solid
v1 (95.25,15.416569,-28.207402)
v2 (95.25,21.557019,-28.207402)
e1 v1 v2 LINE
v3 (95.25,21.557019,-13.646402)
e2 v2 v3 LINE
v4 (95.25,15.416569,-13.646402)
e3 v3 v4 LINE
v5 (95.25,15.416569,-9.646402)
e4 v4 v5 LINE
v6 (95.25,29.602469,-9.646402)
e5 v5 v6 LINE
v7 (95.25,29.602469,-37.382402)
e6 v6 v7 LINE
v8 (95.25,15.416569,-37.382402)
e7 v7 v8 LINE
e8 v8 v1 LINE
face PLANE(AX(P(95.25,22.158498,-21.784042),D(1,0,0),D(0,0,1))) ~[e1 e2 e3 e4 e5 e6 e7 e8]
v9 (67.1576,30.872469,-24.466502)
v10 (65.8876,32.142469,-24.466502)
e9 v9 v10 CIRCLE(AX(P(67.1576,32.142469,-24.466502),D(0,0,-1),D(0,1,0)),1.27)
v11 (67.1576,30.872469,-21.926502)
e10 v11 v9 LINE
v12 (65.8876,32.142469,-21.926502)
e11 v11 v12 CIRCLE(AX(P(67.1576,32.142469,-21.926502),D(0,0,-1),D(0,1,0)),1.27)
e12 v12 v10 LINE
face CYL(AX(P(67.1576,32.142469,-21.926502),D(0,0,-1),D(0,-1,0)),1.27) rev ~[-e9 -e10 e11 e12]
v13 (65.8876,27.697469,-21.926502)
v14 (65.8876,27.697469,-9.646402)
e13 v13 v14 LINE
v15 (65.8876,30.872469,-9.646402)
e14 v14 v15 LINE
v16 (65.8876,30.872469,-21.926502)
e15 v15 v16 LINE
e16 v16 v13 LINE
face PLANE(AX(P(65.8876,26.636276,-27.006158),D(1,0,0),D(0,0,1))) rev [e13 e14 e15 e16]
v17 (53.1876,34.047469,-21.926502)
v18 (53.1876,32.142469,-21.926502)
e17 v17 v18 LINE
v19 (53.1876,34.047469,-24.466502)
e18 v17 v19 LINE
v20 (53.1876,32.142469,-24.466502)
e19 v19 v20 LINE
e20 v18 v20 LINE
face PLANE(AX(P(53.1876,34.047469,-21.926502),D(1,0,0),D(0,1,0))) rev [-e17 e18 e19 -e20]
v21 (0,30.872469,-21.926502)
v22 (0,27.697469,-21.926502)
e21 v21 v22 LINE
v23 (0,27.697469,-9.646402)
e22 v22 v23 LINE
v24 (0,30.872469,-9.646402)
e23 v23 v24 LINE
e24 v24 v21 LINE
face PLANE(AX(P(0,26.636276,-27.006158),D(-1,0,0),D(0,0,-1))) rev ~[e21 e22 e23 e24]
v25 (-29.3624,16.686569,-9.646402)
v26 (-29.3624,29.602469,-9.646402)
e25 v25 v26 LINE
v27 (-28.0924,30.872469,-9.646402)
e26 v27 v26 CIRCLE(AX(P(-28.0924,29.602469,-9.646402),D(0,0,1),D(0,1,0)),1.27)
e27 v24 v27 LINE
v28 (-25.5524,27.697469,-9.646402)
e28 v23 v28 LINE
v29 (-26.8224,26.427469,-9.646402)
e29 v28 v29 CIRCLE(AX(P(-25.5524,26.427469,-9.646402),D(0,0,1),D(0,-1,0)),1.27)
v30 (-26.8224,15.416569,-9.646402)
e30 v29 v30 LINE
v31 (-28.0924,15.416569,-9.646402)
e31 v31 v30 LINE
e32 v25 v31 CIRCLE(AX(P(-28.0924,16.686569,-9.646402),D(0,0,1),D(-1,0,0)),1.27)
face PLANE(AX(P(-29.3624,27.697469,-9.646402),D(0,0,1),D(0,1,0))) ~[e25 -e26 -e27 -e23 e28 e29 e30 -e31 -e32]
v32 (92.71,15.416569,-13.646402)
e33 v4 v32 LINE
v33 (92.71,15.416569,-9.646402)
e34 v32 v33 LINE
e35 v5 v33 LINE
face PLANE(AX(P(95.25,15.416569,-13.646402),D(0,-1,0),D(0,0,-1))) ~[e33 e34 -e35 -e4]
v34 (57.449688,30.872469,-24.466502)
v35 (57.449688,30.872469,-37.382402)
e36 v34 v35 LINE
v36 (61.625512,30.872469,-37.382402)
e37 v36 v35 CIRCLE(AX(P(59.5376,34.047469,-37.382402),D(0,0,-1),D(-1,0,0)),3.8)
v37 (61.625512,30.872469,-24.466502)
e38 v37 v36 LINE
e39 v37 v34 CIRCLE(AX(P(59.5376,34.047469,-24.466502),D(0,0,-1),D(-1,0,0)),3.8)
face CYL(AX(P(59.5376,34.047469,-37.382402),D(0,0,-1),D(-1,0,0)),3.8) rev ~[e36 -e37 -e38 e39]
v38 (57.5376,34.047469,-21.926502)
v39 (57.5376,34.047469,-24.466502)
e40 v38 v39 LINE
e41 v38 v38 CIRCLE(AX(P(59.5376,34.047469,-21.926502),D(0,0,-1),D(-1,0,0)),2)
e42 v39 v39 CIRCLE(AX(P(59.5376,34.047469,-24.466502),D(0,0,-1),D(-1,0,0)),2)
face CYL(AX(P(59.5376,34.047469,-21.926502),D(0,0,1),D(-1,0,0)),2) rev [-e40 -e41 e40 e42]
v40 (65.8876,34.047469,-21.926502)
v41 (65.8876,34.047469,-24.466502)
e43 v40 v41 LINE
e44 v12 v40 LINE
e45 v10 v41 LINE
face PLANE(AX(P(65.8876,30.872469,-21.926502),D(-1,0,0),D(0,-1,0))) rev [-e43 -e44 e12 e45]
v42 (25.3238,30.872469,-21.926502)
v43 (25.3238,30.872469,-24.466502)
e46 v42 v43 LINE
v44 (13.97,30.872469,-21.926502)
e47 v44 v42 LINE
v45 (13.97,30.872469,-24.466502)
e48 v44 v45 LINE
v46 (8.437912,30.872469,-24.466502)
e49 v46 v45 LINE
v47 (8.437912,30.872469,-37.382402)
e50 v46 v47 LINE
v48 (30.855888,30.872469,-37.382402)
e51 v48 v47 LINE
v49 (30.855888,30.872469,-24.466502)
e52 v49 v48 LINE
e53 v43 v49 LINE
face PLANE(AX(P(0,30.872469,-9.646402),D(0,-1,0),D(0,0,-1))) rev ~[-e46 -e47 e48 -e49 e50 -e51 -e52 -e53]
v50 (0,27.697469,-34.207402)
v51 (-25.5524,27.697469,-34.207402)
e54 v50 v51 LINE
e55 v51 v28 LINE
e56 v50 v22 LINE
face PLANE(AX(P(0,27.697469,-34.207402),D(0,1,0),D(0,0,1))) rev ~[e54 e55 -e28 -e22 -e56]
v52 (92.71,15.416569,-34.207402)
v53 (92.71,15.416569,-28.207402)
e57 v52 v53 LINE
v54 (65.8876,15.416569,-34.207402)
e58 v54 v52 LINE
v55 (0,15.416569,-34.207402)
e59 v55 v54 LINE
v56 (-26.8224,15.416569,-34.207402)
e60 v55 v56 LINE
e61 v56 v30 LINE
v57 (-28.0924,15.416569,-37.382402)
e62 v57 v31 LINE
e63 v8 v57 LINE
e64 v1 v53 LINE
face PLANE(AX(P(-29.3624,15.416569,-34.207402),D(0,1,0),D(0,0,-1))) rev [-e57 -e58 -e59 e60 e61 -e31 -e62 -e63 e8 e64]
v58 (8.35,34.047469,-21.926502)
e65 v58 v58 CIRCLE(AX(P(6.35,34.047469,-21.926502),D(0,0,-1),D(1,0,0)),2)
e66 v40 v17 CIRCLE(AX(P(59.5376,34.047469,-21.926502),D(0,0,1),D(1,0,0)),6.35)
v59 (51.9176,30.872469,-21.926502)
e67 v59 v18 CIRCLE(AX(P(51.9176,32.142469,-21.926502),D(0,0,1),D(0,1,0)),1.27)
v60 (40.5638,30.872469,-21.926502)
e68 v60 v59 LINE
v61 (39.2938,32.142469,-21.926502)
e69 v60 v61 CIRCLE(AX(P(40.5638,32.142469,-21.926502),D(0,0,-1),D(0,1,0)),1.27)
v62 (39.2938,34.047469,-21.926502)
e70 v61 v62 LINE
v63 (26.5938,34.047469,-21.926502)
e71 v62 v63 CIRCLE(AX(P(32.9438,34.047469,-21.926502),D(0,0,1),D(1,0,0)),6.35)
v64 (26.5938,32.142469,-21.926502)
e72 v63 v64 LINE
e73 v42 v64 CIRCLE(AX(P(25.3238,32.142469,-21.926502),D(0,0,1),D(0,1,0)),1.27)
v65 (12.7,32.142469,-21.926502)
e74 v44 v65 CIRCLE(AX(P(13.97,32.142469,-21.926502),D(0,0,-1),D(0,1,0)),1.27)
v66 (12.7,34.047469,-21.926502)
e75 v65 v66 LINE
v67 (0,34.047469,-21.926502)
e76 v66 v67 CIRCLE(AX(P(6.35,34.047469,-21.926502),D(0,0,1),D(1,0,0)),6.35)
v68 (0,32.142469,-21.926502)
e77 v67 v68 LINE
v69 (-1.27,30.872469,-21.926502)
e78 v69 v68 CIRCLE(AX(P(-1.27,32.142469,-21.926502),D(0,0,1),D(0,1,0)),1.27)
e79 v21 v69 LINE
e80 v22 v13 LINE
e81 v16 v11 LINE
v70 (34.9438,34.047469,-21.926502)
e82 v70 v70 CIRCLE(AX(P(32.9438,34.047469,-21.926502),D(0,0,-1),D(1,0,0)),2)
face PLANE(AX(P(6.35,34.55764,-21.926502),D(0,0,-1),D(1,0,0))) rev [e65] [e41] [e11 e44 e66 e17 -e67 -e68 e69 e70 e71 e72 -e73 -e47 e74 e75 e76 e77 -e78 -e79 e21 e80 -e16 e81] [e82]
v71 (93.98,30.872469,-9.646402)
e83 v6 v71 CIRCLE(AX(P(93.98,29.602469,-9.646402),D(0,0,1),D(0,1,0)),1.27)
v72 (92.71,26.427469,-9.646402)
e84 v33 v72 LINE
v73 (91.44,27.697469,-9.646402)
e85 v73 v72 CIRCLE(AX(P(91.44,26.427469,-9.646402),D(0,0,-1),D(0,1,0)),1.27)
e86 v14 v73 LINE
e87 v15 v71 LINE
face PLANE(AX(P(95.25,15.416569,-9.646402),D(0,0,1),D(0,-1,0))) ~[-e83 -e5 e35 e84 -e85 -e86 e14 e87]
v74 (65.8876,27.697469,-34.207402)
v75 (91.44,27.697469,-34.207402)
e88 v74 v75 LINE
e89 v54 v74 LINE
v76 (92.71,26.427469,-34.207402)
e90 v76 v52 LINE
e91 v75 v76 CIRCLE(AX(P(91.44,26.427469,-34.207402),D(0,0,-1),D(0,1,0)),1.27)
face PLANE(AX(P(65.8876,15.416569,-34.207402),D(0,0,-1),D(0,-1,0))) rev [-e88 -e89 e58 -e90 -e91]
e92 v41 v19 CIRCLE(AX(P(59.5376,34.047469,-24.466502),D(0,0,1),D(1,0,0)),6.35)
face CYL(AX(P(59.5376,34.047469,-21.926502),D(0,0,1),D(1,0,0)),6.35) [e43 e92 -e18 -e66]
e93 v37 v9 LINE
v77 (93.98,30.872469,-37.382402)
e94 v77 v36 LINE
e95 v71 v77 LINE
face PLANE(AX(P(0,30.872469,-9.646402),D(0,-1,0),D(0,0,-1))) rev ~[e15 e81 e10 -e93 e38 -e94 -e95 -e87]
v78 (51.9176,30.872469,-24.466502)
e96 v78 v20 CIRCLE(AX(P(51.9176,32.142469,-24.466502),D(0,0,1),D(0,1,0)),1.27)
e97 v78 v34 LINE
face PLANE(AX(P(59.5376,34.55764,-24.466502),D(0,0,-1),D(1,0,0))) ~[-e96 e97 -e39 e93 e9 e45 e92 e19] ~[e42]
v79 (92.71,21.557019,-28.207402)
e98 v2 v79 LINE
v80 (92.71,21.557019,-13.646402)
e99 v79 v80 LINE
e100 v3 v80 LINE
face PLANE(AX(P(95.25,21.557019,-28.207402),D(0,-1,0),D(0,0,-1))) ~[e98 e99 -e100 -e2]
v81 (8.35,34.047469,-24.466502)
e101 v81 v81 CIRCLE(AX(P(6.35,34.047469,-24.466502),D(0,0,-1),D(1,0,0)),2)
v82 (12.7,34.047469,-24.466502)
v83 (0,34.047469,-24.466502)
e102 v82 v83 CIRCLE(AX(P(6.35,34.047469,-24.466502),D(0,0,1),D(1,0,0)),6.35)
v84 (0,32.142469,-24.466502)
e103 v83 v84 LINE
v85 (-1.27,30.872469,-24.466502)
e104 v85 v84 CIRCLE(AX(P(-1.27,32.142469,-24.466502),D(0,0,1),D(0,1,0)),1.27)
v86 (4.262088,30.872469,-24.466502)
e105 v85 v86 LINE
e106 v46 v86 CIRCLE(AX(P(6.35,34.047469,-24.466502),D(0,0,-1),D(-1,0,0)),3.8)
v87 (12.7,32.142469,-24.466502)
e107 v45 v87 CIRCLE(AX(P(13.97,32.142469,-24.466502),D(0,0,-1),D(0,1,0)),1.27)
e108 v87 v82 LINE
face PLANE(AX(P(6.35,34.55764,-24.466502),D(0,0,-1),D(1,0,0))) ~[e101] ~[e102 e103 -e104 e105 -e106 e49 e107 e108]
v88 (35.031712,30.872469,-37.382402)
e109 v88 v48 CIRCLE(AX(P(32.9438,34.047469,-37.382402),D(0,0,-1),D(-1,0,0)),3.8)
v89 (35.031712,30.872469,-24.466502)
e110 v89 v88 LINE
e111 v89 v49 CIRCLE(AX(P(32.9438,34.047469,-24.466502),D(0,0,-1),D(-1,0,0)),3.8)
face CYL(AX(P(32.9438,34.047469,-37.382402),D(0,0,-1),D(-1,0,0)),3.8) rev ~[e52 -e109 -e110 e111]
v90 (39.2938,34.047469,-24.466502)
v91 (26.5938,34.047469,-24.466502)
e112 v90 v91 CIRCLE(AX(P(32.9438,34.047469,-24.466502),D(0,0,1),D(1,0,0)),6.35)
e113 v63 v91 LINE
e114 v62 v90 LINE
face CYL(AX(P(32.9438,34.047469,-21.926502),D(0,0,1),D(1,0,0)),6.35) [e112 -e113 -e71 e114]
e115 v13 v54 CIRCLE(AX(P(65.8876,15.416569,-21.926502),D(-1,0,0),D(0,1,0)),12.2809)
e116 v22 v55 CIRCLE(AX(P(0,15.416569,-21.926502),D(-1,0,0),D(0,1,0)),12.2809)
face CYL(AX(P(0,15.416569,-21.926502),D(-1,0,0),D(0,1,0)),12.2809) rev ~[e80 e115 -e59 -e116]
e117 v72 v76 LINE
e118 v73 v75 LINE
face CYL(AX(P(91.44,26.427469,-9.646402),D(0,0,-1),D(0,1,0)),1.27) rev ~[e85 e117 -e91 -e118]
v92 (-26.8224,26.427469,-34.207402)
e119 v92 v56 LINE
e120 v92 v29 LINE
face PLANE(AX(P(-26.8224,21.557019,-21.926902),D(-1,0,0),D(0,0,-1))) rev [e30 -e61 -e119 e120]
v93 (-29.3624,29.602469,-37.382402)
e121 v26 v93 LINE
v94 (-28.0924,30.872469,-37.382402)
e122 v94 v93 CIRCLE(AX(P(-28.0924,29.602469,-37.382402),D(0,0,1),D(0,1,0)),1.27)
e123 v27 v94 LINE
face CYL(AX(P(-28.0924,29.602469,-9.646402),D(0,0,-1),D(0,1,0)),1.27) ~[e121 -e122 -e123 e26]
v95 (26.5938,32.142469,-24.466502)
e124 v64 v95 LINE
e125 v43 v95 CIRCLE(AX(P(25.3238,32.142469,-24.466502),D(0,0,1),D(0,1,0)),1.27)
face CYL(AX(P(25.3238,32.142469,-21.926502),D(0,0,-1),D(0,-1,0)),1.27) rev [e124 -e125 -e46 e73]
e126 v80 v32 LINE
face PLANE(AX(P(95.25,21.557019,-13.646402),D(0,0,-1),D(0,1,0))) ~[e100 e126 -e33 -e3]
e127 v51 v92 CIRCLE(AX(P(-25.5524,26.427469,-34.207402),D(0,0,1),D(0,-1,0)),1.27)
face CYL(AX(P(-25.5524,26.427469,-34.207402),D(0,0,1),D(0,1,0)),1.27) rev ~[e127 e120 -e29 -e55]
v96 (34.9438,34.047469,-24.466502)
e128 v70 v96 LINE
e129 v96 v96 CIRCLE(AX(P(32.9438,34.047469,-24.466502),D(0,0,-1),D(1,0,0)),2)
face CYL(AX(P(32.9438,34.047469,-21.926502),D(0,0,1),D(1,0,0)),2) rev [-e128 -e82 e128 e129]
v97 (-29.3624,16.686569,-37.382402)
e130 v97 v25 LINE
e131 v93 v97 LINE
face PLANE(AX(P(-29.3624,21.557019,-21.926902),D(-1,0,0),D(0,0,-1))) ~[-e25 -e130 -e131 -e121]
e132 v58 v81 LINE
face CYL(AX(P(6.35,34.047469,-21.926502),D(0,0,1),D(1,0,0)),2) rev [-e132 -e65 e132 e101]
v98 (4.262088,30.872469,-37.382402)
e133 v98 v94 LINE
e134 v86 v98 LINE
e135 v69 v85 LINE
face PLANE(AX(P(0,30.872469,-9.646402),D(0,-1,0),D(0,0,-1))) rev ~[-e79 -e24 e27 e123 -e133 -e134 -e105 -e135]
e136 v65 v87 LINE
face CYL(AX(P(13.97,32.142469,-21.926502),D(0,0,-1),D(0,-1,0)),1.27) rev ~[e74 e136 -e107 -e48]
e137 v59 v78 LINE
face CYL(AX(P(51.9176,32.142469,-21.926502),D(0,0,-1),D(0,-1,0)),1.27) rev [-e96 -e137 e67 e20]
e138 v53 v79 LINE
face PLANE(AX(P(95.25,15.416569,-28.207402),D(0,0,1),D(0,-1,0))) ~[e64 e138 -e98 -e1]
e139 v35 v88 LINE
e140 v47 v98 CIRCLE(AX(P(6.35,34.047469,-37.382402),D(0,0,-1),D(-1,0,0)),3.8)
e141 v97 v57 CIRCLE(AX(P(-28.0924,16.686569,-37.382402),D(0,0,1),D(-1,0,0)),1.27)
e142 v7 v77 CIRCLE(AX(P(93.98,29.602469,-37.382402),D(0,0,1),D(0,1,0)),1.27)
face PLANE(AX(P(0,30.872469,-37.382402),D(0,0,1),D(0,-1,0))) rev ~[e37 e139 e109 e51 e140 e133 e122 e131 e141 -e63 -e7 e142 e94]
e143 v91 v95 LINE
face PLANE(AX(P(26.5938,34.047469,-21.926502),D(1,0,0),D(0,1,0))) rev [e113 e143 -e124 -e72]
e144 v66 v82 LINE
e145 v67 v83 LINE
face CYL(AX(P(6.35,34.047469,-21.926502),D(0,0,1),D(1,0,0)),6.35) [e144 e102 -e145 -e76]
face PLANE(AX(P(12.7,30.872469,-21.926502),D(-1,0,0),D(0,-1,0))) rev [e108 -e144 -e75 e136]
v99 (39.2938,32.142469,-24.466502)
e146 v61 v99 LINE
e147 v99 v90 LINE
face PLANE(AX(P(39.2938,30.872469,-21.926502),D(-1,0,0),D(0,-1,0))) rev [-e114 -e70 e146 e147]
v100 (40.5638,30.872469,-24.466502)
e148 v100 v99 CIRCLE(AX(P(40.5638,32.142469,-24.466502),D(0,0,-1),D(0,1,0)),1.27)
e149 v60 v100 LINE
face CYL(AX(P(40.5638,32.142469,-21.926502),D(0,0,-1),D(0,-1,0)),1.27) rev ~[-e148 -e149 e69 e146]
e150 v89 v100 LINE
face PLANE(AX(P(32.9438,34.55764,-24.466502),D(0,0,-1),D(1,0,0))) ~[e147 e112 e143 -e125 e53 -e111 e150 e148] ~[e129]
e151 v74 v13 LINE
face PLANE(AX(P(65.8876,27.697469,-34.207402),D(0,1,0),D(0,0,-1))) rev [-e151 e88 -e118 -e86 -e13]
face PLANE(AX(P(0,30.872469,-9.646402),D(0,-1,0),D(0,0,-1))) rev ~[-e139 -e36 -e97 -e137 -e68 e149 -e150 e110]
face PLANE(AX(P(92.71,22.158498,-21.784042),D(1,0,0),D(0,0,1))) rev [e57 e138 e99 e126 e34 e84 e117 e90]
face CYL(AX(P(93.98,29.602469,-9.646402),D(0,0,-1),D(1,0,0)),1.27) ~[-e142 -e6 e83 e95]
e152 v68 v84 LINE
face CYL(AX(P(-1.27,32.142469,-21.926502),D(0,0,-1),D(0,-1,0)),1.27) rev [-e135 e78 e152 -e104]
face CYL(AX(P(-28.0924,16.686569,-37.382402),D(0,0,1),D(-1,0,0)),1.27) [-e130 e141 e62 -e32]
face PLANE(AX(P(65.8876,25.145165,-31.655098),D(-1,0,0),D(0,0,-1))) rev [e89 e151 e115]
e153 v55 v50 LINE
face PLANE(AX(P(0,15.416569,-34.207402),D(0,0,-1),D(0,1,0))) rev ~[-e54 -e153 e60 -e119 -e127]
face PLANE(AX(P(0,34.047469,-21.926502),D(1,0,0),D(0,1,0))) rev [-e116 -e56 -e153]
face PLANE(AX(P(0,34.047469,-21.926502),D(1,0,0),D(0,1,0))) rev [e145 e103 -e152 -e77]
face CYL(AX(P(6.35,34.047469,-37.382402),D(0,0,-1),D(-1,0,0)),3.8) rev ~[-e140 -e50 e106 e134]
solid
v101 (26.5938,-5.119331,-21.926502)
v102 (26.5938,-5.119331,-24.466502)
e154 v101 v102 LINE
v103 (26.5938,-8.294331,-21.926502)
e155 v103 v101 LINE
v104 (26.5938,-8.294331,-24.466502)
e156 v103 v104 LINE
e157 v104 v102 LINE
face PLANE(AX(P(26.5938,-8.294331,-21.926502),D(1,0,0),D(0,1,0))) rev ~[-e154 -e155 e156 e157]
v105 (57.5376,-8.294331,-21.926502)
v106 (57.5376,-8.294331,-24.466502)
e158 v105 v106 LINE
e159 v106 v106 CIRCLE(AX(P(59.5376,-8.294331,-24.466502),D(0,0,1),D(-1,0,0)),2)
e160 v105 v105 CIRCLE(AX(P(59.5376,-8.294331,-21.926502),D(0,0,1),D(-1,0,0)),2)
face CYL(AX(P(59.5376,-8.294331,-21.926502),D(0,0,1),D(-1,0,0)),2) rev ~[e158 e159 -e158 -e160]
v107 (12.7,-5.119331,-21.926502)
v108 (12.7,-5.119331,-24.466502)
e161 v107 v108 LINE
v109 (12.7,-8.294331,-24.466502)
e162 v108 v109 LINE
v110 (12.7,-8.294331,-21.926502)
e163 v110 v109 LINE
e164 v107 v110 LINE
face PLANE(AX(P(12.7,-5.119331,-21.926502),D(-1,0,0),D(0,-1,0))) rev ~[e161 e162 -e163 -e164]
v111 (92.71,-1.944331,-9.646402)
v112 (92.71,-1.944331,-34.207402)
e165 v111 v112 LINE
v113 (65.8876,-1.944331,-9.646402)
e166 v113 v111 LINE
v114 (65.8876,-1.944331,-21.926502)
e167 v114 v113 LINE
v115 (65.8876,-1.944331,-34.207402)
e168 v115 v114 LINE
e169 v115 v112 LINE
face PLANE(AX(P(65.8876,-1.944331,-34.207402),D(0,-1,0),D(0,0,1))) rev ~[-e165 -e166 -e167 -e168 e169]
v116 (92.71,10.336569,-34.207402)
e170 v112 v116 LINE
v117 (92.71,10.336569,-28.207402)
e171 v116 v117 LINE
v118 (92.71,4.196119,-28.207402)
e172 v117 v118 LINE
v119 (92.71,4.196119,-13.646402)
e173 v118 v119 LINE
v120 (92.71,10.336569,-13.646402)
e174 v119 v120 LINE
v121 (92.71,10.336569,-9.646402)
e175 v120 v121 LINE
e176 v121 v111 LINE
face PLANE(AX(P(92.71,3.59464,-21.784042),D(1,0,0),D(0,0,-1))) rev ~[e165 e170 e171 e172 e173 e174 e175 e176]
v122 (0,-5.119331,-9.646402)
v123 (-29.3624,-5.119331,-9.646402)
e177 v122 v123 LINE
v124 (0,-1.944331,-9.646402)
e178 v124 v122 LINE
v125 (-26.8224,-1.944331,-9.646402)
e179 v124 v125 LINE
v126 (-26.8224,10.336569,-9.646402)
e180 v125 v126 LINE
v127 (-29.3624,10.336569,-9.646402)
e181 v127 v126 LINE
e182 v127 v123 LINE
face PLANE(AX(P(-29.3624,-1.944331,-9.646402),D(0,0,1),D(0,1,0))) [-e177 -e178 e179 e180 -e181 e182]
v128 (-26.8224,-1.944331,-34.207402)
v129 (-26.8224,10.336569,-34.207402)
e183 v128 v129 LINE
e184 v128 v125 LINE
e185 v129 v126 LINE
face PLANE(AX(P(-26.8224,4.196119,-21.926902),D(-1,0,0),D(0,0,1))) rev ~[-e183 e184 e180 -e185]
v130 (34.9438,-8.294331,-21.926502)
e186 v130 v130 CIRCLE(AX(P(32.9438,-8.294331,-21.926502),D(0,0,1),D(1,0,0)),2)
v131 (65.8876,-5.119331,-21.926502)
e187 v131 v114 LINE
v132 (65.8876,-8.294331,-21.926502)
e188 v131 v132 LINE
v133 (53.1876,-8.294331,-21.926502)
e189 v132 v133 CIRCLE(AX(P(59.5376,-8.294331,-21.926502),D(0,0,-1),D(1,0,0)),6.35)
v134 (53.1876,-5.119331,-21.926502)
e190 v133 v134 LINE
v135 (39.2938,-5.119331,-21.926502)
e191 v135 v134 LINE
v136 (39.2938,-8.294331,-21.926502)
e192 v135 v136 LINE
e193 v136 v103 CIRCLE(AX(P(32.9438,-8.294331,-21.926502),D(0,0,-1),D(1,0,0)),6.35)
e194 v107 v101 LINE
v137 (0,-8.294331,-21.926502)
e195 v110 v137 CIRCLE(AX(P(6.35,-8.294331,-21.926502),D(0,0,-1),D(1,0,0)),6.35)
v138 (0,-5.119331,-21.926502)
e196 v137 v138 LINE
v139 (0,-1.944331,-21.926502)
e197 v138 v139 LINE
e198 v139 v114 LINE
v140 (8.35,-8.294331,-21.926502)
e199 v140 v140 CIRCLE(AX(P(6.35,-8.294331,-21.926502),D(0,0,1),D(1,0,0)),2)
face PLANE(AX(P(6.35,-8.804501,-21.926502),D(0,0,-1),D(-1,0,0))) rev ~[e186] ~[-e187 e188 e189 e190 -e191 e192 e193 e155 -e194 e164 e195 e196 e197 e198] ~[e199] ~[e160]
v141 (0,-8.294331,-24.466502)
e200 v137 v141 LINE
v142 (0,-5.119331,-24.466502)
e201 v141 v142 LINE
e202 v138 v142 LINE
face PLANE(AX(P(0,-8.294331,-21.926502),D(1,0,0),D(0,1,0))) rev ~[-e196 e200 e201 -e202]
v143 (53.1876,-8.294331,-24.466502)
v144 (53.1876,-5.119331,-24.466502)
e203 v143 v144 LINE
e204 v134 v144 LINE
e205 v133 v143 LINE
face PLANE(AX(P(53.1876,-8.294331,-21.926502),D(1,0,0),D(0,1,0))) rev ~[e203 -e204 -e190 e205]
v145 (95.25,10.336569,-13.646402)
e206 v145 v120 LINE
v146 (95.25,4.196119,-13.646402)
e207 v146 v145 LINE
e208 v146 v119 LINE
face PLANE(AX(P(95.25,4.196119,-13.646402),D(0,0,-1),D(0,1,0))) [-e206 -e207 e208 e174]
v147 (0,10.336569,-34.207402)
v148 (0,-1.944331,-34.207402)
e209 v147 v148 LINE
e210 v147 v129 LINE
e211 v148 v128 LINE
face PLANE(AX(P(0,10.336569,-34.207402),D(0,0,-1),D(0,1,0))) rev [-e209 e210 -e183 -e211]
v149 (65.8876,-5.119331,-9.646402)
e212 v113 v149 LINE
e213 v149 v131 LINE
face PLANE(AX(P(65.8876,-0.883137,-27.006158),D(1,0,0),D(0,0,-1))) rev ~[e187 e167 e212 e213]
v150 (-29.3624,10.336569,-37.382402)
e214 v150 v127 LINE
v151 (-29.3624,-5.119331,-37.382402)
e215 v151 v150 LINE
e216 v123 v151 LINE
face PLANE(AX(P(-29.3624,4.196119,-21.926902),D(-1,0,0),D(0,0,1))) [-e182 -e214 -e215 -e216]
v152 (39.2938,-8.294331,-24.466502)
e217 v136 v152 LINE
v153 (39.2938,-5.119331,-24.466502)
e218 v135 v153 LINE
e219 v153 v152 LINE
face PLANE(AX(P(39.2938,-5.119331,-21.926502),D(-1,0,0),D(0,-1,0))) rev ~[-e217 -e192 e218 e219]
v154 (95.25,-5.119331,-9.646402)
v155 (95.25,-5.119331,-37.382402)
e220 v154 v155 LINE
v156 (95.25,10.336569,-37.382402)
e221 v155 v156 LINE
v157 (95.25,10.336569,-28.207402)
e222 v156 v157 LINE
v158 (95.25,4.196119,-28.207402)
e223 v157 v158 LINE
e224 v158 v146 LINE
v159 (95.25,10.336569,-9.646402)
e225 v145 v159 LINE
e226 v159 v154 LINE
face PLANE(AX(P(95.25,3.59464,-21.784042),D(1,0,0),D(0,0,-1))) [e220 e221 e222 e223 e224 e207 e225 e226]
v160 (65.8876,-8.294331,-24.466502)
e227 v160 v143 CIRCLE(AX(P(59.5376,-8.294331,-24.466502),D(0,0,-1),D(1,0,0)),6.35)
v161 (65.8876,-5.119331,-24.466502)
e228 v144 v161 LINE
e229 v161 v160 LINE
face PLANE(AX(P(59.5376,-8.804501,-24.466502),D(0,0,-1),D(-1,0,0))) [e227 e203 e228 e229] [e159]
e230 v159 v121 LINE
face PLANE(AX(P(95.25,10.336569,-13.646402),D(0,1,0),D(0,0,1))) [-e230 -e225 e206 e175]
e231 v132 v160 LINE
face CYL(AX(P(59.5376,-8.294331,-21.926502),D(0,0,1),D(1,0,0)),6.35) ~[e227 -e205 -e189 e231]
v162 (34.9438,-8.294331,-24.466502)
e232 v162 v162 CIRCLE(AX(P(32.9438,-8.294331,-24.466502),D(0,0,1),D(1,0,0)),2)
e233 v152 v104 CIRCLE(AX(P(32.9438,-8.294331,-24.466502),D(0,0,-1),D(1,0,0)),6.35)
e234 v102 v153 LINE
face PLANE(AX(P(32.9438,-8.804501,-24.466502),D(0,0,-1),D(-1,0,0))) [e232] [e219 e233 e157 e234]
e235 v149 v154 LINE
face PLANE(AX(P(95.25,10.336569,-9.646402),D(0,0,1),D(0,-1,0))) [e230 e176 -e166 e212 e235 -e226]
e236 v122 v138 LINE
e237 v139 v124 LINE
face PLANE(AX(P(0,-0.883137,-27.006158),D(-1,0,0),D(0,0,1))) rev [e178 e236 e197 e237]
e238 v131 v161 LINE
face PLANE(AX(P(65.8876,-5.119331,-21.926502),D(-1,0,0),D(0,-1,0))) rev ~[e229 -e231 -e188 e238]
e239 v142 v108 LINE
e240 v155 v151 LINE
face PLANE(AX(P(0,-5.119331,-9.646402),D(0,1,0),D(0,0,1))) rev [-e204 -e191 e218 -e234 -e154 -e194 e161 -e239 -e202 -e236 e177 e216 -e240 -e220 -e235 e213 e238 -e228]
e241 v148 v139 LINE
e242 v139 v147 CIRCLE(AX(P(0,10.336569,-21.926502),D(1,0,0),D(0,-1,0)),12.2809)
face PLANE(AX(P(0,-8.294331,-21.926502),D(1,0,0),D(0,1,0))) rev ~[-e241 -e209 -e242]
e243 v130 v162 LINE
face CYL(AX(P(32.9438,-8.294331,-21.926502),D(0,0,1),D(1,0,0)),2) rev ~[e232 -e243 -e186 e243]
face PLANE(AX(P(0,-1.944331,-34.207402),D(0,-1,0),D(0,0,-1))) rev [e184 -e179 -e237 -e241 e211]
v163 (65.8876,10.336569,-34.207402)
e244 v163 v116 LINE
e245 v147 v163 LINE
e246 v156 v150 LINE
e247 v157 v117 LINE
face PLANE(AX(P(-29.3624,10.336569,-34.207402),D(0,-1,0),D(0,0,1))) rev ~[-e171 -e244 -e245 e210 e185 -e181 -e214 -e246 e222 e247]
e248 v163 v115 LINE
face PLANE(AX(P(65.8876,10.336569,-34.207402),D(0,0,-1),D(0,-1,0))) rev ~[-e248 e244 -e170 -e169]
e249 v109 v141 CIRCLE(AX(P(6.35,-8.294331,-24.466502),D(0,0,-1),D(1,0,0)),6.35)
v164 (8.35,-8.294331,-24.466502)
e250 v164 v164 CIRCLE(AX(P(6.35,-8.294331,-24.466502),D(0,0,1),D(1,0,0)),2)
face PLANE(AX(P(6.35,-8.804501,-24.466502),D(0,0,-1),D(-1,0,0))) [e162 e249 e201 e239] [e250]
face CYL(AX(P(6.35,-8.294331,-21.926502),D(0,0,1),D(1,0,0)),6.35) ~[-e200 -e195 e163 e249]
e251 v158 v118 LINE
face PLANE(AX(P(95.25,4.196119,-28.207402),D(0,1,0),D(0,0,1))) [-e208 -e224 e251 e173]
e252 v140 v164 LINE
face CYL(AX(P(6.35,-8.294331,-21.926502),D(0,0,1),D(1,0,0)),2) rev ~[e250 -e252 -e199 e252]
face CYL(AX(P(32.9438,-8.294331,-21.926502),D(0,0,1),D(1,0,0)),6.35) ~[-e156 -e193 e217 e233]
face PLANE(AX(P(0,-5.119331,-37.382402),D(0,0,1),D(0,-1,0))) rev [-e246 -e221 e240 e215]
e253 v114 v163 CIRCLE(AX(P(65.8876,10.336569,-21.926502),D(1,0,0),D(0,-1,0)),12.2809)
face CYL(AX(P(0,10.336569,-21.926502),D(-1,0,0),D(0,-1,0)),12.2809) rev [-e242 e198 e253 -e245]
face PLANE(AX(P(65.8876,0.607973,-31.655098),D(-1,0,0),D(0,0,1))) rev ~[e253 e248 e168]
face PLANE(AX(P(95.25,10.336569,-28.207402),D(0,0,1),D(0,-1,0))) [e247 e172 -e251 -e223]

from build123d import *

# Parameters (mm, degrees)
BOSS_EXTRUDE1_DEPTH = 65.8876
BOSS_EXTRUDE2_DEPTH = 29.3624
BOSS_EXTRUDE3_DEPTH = 2.54
SKETCH4_R           = 2
BOSS_EXTRUDE4_DEPTH = 2.54
SKETCH6_W           = 24.561
SKETCH6_H           = 12.2809
BOSS_EXTRUDE5_DEPTH = 2.54
FILLET1_R           = 1.27
FILLET2_R           = 1.27
FILLET3_R           = 1.27
SKETCH7_R           = 3.80000002
CUT_EXTRUDE1_DEPTH  = 12.9159


with BuildPart() as part:
    # Sketch1 → Boss-Extrude1 (new body)
    with BuildSketch(Plane(origin=(0, 0, 0), x_dir=(0, 0, -1), z_dir=(1, 0, 0))):
        with BuildLine():
            Line((34.207401555, 10.336569156), (37.382401555, 10.336569156))
            Line((37.382401555, 10.336569156), (37.382401555, -5.119330844))
            Line((37.382401555, -5.119330844), (21.926501555, -5.119330844))
            Line((21.926501555, -5.119330844), (21.926501555, -1.944330844))
            ThreePointArc((21.926501555, -1.944330844), (30.610409224, 1.652661487), (34.207401555, 10.336569156))
        make_face()
    extrude(amount=BOSS_EXTRUDE1_DEPTH)

    # Sketch2 → Boss-Extrude2 (add)
    with BuildSketch(Plane(origin=(65.8876, 0, 0), x_dir=(0, 0, -1), z_dir=(1, 0, 0))):
        Polygon((37.382401555, -1.944330844), (37.382401555, 10.336569156), (34.207401555, 10.336569156), (34.207401555, -1.944330844), (9.646401555, -1.944330844), (9.646401555, -5.119330844), (37.382401555, -5.119330844), align=None)
    boss_extrude2 = extrude(amount=BOSS_EXTRUDE2_DEPTH)

    # Sketch3 → Boss-Extrude3 (add)
    with BuildSketch(Plane(origin=(95.25, 0, 0), x_dir=(0, 0, -1), z_dir=(1, 0, 0))):
        Polygon((28.207401555, 4.196119156), (13.646401555, 4.196119156), (13.646401555, 10.336569156), (9.646401555, 10.336569156), (9.646401555, 4.196119156), (9.646401555, -1.944330844), (28.207401555, -1.944330844), (34.207401555, -1.944330844), (34.207401555, 10.336569156), (28.207401555, 10.336569156), align=None)
    extrude(amount=-BOSS_EXTRUDE3_DEPTH)

    # Sketch4 → Boss-Extrude4 (add)
    # profile 1 of 3: a face of its own
    with BuildSketch(Plane.XY.offset(-21.926501555)):
        with BuildLine():
            Line((0, -8.294330844), (0, -5.119330844))
            Line((0, -5.119330844), (12.7, -5.119330844))
            Line((12.7, -5.119330844), (12.7, -8.294330844))
            ThreePointArc((12.7, -8.294330844), (6.35, -14.644330844), (0, -8.294330844))
        make_face()
        with Locations((6.35, -8.294330844)):
            Circle(SKETCH4_R, mode=Mode.SUBTRACT)
    # profile 2 of 3: a face of its own
    with BuildSketch(Plane.XY.offset(-21.926501555)):
        with BuildLine():
            Line((26.5938, -8.294330844), (26.5938, -5.119330844))
            Line((26.5938, -5.119330844), (39.2938, -5.119330844))
            Line((39.2938, -5.119330844), (39.2938, -8.294330844))
            ThreePointArc((39.2938, -8.294330844), (32.9438, -14.644330844), (26.5938, -8.294330844))
        make_face()
        with Locations((32.9438, -8.294330844)):
            Circle(SKETCH4_R, mode=Mode.SUBTRACT)
    # profile 3 of 3: a face of its own
    with BuildSketch(Plane.XY.offset(-21.926501555)):
        with BuildLine():
            Line((53.1876, -5.119330844), (65.8876, -5.119330844))
            Line((65.8876, -5.119330844), (65.8876, -8.294330844))
            ThreePointArc((65.8876, -8.294330844), (59.5376, -14.644330844), (53.1876, -8.294330844))
            Line((53.1876, -8.294330844), (53.1876, -5.119330844))
        make_face()
        with Locations(Location((59.5376, -8.294330844, 0), (0, 0, 180))):
            Circle(SKETCH4_R, mode=Mode.SUBTRACT)
    extrude(amount=-BOSS_EXTRUDE4_DEPTH)

    # Mirror1: Boss-Extrude2 across plane
    add(boss_extrude2.mirror(Plane(origin=(32.9438, 0, 0), x_dir=(0, 0, 1), z_dir=(1, 0, 0))))

    # Sketch6 → Boss-Extrude5 (add)
    with BuildSketch(Plane.ZY.offset(29.3624)):
        with Locations((-21.926901555, 4.196119156)):
            Rectangle(SKETCH6_W, SKETCH6_H)
    extrude(amount=-BOSS_EXTRUDE5_DEPTH)


with BuildPart() as body_2:
    # Mirror3: mirrored copy
    add(part.part.mirror(Plane.ZX.offset(12.876569156)))

    # Fillet1
    fillet1_edges = [body_2.edges().sort_by_distance(p)[0] for p in [
        (-29.3624, 30.872469156, -23.514401555),
        (-29.3624, 15.416569156, -23.514401555),
        (95.25, 30.872469156, -23.514401555),
    ]]
    fillet(fillet1_edges, radius=FILLET1_R)

    # Fillet2
    fillet2_edges = [body_2.edges().sort_by_distance(p)[0] for p in [
        (0, 30.872469156, -23.196501555),
        (12.7, 30.872469156, -23.196501555),
        (26.5938, 30.872469156, -23.196501555),
        (39.2938, 30.872469156, -23.196501555),
        (65.8876, 30.872469156, -23.196501555),
        (53.1876, 30.872469156, -23.196501555),
    ]]
    fillet(fillet2_edges, radius=FILLET2_R)

    # Fillet3
    fillet3_edges = [body_2.edges().sort_by_distance(p)[0] for p in [
        (-26.8224, 27.697469156, -21.926901555),
        (92.71, 27.697469156, -21.926901555),
    ]]
    fillet(fillet3_edges, radius=FILLET3_R)

    # Sketch7 → Cut-Extrude1 (cut)
    with BuildSketch(Plane(origin=(0, 0, -37.382401555), x_dir=(-1, 0, 0), z_dir=(0, 0, -1))):
        with Locations((-59.5376, 34.047469156)):
            Circle(SKETCH7_R)
        with Locations((-32.9438, 34.047469156)):
            Circle(SKETCH7_R)
        with Locations((-6.35, 34.047469156)):
            Circle(SKETCH7_R)
    extrude(amount=-CUT_EXTRUDE1_DEPTH, mode=Mode.SUBTRACT)


solid = Compound([part.part, body_2.part])
